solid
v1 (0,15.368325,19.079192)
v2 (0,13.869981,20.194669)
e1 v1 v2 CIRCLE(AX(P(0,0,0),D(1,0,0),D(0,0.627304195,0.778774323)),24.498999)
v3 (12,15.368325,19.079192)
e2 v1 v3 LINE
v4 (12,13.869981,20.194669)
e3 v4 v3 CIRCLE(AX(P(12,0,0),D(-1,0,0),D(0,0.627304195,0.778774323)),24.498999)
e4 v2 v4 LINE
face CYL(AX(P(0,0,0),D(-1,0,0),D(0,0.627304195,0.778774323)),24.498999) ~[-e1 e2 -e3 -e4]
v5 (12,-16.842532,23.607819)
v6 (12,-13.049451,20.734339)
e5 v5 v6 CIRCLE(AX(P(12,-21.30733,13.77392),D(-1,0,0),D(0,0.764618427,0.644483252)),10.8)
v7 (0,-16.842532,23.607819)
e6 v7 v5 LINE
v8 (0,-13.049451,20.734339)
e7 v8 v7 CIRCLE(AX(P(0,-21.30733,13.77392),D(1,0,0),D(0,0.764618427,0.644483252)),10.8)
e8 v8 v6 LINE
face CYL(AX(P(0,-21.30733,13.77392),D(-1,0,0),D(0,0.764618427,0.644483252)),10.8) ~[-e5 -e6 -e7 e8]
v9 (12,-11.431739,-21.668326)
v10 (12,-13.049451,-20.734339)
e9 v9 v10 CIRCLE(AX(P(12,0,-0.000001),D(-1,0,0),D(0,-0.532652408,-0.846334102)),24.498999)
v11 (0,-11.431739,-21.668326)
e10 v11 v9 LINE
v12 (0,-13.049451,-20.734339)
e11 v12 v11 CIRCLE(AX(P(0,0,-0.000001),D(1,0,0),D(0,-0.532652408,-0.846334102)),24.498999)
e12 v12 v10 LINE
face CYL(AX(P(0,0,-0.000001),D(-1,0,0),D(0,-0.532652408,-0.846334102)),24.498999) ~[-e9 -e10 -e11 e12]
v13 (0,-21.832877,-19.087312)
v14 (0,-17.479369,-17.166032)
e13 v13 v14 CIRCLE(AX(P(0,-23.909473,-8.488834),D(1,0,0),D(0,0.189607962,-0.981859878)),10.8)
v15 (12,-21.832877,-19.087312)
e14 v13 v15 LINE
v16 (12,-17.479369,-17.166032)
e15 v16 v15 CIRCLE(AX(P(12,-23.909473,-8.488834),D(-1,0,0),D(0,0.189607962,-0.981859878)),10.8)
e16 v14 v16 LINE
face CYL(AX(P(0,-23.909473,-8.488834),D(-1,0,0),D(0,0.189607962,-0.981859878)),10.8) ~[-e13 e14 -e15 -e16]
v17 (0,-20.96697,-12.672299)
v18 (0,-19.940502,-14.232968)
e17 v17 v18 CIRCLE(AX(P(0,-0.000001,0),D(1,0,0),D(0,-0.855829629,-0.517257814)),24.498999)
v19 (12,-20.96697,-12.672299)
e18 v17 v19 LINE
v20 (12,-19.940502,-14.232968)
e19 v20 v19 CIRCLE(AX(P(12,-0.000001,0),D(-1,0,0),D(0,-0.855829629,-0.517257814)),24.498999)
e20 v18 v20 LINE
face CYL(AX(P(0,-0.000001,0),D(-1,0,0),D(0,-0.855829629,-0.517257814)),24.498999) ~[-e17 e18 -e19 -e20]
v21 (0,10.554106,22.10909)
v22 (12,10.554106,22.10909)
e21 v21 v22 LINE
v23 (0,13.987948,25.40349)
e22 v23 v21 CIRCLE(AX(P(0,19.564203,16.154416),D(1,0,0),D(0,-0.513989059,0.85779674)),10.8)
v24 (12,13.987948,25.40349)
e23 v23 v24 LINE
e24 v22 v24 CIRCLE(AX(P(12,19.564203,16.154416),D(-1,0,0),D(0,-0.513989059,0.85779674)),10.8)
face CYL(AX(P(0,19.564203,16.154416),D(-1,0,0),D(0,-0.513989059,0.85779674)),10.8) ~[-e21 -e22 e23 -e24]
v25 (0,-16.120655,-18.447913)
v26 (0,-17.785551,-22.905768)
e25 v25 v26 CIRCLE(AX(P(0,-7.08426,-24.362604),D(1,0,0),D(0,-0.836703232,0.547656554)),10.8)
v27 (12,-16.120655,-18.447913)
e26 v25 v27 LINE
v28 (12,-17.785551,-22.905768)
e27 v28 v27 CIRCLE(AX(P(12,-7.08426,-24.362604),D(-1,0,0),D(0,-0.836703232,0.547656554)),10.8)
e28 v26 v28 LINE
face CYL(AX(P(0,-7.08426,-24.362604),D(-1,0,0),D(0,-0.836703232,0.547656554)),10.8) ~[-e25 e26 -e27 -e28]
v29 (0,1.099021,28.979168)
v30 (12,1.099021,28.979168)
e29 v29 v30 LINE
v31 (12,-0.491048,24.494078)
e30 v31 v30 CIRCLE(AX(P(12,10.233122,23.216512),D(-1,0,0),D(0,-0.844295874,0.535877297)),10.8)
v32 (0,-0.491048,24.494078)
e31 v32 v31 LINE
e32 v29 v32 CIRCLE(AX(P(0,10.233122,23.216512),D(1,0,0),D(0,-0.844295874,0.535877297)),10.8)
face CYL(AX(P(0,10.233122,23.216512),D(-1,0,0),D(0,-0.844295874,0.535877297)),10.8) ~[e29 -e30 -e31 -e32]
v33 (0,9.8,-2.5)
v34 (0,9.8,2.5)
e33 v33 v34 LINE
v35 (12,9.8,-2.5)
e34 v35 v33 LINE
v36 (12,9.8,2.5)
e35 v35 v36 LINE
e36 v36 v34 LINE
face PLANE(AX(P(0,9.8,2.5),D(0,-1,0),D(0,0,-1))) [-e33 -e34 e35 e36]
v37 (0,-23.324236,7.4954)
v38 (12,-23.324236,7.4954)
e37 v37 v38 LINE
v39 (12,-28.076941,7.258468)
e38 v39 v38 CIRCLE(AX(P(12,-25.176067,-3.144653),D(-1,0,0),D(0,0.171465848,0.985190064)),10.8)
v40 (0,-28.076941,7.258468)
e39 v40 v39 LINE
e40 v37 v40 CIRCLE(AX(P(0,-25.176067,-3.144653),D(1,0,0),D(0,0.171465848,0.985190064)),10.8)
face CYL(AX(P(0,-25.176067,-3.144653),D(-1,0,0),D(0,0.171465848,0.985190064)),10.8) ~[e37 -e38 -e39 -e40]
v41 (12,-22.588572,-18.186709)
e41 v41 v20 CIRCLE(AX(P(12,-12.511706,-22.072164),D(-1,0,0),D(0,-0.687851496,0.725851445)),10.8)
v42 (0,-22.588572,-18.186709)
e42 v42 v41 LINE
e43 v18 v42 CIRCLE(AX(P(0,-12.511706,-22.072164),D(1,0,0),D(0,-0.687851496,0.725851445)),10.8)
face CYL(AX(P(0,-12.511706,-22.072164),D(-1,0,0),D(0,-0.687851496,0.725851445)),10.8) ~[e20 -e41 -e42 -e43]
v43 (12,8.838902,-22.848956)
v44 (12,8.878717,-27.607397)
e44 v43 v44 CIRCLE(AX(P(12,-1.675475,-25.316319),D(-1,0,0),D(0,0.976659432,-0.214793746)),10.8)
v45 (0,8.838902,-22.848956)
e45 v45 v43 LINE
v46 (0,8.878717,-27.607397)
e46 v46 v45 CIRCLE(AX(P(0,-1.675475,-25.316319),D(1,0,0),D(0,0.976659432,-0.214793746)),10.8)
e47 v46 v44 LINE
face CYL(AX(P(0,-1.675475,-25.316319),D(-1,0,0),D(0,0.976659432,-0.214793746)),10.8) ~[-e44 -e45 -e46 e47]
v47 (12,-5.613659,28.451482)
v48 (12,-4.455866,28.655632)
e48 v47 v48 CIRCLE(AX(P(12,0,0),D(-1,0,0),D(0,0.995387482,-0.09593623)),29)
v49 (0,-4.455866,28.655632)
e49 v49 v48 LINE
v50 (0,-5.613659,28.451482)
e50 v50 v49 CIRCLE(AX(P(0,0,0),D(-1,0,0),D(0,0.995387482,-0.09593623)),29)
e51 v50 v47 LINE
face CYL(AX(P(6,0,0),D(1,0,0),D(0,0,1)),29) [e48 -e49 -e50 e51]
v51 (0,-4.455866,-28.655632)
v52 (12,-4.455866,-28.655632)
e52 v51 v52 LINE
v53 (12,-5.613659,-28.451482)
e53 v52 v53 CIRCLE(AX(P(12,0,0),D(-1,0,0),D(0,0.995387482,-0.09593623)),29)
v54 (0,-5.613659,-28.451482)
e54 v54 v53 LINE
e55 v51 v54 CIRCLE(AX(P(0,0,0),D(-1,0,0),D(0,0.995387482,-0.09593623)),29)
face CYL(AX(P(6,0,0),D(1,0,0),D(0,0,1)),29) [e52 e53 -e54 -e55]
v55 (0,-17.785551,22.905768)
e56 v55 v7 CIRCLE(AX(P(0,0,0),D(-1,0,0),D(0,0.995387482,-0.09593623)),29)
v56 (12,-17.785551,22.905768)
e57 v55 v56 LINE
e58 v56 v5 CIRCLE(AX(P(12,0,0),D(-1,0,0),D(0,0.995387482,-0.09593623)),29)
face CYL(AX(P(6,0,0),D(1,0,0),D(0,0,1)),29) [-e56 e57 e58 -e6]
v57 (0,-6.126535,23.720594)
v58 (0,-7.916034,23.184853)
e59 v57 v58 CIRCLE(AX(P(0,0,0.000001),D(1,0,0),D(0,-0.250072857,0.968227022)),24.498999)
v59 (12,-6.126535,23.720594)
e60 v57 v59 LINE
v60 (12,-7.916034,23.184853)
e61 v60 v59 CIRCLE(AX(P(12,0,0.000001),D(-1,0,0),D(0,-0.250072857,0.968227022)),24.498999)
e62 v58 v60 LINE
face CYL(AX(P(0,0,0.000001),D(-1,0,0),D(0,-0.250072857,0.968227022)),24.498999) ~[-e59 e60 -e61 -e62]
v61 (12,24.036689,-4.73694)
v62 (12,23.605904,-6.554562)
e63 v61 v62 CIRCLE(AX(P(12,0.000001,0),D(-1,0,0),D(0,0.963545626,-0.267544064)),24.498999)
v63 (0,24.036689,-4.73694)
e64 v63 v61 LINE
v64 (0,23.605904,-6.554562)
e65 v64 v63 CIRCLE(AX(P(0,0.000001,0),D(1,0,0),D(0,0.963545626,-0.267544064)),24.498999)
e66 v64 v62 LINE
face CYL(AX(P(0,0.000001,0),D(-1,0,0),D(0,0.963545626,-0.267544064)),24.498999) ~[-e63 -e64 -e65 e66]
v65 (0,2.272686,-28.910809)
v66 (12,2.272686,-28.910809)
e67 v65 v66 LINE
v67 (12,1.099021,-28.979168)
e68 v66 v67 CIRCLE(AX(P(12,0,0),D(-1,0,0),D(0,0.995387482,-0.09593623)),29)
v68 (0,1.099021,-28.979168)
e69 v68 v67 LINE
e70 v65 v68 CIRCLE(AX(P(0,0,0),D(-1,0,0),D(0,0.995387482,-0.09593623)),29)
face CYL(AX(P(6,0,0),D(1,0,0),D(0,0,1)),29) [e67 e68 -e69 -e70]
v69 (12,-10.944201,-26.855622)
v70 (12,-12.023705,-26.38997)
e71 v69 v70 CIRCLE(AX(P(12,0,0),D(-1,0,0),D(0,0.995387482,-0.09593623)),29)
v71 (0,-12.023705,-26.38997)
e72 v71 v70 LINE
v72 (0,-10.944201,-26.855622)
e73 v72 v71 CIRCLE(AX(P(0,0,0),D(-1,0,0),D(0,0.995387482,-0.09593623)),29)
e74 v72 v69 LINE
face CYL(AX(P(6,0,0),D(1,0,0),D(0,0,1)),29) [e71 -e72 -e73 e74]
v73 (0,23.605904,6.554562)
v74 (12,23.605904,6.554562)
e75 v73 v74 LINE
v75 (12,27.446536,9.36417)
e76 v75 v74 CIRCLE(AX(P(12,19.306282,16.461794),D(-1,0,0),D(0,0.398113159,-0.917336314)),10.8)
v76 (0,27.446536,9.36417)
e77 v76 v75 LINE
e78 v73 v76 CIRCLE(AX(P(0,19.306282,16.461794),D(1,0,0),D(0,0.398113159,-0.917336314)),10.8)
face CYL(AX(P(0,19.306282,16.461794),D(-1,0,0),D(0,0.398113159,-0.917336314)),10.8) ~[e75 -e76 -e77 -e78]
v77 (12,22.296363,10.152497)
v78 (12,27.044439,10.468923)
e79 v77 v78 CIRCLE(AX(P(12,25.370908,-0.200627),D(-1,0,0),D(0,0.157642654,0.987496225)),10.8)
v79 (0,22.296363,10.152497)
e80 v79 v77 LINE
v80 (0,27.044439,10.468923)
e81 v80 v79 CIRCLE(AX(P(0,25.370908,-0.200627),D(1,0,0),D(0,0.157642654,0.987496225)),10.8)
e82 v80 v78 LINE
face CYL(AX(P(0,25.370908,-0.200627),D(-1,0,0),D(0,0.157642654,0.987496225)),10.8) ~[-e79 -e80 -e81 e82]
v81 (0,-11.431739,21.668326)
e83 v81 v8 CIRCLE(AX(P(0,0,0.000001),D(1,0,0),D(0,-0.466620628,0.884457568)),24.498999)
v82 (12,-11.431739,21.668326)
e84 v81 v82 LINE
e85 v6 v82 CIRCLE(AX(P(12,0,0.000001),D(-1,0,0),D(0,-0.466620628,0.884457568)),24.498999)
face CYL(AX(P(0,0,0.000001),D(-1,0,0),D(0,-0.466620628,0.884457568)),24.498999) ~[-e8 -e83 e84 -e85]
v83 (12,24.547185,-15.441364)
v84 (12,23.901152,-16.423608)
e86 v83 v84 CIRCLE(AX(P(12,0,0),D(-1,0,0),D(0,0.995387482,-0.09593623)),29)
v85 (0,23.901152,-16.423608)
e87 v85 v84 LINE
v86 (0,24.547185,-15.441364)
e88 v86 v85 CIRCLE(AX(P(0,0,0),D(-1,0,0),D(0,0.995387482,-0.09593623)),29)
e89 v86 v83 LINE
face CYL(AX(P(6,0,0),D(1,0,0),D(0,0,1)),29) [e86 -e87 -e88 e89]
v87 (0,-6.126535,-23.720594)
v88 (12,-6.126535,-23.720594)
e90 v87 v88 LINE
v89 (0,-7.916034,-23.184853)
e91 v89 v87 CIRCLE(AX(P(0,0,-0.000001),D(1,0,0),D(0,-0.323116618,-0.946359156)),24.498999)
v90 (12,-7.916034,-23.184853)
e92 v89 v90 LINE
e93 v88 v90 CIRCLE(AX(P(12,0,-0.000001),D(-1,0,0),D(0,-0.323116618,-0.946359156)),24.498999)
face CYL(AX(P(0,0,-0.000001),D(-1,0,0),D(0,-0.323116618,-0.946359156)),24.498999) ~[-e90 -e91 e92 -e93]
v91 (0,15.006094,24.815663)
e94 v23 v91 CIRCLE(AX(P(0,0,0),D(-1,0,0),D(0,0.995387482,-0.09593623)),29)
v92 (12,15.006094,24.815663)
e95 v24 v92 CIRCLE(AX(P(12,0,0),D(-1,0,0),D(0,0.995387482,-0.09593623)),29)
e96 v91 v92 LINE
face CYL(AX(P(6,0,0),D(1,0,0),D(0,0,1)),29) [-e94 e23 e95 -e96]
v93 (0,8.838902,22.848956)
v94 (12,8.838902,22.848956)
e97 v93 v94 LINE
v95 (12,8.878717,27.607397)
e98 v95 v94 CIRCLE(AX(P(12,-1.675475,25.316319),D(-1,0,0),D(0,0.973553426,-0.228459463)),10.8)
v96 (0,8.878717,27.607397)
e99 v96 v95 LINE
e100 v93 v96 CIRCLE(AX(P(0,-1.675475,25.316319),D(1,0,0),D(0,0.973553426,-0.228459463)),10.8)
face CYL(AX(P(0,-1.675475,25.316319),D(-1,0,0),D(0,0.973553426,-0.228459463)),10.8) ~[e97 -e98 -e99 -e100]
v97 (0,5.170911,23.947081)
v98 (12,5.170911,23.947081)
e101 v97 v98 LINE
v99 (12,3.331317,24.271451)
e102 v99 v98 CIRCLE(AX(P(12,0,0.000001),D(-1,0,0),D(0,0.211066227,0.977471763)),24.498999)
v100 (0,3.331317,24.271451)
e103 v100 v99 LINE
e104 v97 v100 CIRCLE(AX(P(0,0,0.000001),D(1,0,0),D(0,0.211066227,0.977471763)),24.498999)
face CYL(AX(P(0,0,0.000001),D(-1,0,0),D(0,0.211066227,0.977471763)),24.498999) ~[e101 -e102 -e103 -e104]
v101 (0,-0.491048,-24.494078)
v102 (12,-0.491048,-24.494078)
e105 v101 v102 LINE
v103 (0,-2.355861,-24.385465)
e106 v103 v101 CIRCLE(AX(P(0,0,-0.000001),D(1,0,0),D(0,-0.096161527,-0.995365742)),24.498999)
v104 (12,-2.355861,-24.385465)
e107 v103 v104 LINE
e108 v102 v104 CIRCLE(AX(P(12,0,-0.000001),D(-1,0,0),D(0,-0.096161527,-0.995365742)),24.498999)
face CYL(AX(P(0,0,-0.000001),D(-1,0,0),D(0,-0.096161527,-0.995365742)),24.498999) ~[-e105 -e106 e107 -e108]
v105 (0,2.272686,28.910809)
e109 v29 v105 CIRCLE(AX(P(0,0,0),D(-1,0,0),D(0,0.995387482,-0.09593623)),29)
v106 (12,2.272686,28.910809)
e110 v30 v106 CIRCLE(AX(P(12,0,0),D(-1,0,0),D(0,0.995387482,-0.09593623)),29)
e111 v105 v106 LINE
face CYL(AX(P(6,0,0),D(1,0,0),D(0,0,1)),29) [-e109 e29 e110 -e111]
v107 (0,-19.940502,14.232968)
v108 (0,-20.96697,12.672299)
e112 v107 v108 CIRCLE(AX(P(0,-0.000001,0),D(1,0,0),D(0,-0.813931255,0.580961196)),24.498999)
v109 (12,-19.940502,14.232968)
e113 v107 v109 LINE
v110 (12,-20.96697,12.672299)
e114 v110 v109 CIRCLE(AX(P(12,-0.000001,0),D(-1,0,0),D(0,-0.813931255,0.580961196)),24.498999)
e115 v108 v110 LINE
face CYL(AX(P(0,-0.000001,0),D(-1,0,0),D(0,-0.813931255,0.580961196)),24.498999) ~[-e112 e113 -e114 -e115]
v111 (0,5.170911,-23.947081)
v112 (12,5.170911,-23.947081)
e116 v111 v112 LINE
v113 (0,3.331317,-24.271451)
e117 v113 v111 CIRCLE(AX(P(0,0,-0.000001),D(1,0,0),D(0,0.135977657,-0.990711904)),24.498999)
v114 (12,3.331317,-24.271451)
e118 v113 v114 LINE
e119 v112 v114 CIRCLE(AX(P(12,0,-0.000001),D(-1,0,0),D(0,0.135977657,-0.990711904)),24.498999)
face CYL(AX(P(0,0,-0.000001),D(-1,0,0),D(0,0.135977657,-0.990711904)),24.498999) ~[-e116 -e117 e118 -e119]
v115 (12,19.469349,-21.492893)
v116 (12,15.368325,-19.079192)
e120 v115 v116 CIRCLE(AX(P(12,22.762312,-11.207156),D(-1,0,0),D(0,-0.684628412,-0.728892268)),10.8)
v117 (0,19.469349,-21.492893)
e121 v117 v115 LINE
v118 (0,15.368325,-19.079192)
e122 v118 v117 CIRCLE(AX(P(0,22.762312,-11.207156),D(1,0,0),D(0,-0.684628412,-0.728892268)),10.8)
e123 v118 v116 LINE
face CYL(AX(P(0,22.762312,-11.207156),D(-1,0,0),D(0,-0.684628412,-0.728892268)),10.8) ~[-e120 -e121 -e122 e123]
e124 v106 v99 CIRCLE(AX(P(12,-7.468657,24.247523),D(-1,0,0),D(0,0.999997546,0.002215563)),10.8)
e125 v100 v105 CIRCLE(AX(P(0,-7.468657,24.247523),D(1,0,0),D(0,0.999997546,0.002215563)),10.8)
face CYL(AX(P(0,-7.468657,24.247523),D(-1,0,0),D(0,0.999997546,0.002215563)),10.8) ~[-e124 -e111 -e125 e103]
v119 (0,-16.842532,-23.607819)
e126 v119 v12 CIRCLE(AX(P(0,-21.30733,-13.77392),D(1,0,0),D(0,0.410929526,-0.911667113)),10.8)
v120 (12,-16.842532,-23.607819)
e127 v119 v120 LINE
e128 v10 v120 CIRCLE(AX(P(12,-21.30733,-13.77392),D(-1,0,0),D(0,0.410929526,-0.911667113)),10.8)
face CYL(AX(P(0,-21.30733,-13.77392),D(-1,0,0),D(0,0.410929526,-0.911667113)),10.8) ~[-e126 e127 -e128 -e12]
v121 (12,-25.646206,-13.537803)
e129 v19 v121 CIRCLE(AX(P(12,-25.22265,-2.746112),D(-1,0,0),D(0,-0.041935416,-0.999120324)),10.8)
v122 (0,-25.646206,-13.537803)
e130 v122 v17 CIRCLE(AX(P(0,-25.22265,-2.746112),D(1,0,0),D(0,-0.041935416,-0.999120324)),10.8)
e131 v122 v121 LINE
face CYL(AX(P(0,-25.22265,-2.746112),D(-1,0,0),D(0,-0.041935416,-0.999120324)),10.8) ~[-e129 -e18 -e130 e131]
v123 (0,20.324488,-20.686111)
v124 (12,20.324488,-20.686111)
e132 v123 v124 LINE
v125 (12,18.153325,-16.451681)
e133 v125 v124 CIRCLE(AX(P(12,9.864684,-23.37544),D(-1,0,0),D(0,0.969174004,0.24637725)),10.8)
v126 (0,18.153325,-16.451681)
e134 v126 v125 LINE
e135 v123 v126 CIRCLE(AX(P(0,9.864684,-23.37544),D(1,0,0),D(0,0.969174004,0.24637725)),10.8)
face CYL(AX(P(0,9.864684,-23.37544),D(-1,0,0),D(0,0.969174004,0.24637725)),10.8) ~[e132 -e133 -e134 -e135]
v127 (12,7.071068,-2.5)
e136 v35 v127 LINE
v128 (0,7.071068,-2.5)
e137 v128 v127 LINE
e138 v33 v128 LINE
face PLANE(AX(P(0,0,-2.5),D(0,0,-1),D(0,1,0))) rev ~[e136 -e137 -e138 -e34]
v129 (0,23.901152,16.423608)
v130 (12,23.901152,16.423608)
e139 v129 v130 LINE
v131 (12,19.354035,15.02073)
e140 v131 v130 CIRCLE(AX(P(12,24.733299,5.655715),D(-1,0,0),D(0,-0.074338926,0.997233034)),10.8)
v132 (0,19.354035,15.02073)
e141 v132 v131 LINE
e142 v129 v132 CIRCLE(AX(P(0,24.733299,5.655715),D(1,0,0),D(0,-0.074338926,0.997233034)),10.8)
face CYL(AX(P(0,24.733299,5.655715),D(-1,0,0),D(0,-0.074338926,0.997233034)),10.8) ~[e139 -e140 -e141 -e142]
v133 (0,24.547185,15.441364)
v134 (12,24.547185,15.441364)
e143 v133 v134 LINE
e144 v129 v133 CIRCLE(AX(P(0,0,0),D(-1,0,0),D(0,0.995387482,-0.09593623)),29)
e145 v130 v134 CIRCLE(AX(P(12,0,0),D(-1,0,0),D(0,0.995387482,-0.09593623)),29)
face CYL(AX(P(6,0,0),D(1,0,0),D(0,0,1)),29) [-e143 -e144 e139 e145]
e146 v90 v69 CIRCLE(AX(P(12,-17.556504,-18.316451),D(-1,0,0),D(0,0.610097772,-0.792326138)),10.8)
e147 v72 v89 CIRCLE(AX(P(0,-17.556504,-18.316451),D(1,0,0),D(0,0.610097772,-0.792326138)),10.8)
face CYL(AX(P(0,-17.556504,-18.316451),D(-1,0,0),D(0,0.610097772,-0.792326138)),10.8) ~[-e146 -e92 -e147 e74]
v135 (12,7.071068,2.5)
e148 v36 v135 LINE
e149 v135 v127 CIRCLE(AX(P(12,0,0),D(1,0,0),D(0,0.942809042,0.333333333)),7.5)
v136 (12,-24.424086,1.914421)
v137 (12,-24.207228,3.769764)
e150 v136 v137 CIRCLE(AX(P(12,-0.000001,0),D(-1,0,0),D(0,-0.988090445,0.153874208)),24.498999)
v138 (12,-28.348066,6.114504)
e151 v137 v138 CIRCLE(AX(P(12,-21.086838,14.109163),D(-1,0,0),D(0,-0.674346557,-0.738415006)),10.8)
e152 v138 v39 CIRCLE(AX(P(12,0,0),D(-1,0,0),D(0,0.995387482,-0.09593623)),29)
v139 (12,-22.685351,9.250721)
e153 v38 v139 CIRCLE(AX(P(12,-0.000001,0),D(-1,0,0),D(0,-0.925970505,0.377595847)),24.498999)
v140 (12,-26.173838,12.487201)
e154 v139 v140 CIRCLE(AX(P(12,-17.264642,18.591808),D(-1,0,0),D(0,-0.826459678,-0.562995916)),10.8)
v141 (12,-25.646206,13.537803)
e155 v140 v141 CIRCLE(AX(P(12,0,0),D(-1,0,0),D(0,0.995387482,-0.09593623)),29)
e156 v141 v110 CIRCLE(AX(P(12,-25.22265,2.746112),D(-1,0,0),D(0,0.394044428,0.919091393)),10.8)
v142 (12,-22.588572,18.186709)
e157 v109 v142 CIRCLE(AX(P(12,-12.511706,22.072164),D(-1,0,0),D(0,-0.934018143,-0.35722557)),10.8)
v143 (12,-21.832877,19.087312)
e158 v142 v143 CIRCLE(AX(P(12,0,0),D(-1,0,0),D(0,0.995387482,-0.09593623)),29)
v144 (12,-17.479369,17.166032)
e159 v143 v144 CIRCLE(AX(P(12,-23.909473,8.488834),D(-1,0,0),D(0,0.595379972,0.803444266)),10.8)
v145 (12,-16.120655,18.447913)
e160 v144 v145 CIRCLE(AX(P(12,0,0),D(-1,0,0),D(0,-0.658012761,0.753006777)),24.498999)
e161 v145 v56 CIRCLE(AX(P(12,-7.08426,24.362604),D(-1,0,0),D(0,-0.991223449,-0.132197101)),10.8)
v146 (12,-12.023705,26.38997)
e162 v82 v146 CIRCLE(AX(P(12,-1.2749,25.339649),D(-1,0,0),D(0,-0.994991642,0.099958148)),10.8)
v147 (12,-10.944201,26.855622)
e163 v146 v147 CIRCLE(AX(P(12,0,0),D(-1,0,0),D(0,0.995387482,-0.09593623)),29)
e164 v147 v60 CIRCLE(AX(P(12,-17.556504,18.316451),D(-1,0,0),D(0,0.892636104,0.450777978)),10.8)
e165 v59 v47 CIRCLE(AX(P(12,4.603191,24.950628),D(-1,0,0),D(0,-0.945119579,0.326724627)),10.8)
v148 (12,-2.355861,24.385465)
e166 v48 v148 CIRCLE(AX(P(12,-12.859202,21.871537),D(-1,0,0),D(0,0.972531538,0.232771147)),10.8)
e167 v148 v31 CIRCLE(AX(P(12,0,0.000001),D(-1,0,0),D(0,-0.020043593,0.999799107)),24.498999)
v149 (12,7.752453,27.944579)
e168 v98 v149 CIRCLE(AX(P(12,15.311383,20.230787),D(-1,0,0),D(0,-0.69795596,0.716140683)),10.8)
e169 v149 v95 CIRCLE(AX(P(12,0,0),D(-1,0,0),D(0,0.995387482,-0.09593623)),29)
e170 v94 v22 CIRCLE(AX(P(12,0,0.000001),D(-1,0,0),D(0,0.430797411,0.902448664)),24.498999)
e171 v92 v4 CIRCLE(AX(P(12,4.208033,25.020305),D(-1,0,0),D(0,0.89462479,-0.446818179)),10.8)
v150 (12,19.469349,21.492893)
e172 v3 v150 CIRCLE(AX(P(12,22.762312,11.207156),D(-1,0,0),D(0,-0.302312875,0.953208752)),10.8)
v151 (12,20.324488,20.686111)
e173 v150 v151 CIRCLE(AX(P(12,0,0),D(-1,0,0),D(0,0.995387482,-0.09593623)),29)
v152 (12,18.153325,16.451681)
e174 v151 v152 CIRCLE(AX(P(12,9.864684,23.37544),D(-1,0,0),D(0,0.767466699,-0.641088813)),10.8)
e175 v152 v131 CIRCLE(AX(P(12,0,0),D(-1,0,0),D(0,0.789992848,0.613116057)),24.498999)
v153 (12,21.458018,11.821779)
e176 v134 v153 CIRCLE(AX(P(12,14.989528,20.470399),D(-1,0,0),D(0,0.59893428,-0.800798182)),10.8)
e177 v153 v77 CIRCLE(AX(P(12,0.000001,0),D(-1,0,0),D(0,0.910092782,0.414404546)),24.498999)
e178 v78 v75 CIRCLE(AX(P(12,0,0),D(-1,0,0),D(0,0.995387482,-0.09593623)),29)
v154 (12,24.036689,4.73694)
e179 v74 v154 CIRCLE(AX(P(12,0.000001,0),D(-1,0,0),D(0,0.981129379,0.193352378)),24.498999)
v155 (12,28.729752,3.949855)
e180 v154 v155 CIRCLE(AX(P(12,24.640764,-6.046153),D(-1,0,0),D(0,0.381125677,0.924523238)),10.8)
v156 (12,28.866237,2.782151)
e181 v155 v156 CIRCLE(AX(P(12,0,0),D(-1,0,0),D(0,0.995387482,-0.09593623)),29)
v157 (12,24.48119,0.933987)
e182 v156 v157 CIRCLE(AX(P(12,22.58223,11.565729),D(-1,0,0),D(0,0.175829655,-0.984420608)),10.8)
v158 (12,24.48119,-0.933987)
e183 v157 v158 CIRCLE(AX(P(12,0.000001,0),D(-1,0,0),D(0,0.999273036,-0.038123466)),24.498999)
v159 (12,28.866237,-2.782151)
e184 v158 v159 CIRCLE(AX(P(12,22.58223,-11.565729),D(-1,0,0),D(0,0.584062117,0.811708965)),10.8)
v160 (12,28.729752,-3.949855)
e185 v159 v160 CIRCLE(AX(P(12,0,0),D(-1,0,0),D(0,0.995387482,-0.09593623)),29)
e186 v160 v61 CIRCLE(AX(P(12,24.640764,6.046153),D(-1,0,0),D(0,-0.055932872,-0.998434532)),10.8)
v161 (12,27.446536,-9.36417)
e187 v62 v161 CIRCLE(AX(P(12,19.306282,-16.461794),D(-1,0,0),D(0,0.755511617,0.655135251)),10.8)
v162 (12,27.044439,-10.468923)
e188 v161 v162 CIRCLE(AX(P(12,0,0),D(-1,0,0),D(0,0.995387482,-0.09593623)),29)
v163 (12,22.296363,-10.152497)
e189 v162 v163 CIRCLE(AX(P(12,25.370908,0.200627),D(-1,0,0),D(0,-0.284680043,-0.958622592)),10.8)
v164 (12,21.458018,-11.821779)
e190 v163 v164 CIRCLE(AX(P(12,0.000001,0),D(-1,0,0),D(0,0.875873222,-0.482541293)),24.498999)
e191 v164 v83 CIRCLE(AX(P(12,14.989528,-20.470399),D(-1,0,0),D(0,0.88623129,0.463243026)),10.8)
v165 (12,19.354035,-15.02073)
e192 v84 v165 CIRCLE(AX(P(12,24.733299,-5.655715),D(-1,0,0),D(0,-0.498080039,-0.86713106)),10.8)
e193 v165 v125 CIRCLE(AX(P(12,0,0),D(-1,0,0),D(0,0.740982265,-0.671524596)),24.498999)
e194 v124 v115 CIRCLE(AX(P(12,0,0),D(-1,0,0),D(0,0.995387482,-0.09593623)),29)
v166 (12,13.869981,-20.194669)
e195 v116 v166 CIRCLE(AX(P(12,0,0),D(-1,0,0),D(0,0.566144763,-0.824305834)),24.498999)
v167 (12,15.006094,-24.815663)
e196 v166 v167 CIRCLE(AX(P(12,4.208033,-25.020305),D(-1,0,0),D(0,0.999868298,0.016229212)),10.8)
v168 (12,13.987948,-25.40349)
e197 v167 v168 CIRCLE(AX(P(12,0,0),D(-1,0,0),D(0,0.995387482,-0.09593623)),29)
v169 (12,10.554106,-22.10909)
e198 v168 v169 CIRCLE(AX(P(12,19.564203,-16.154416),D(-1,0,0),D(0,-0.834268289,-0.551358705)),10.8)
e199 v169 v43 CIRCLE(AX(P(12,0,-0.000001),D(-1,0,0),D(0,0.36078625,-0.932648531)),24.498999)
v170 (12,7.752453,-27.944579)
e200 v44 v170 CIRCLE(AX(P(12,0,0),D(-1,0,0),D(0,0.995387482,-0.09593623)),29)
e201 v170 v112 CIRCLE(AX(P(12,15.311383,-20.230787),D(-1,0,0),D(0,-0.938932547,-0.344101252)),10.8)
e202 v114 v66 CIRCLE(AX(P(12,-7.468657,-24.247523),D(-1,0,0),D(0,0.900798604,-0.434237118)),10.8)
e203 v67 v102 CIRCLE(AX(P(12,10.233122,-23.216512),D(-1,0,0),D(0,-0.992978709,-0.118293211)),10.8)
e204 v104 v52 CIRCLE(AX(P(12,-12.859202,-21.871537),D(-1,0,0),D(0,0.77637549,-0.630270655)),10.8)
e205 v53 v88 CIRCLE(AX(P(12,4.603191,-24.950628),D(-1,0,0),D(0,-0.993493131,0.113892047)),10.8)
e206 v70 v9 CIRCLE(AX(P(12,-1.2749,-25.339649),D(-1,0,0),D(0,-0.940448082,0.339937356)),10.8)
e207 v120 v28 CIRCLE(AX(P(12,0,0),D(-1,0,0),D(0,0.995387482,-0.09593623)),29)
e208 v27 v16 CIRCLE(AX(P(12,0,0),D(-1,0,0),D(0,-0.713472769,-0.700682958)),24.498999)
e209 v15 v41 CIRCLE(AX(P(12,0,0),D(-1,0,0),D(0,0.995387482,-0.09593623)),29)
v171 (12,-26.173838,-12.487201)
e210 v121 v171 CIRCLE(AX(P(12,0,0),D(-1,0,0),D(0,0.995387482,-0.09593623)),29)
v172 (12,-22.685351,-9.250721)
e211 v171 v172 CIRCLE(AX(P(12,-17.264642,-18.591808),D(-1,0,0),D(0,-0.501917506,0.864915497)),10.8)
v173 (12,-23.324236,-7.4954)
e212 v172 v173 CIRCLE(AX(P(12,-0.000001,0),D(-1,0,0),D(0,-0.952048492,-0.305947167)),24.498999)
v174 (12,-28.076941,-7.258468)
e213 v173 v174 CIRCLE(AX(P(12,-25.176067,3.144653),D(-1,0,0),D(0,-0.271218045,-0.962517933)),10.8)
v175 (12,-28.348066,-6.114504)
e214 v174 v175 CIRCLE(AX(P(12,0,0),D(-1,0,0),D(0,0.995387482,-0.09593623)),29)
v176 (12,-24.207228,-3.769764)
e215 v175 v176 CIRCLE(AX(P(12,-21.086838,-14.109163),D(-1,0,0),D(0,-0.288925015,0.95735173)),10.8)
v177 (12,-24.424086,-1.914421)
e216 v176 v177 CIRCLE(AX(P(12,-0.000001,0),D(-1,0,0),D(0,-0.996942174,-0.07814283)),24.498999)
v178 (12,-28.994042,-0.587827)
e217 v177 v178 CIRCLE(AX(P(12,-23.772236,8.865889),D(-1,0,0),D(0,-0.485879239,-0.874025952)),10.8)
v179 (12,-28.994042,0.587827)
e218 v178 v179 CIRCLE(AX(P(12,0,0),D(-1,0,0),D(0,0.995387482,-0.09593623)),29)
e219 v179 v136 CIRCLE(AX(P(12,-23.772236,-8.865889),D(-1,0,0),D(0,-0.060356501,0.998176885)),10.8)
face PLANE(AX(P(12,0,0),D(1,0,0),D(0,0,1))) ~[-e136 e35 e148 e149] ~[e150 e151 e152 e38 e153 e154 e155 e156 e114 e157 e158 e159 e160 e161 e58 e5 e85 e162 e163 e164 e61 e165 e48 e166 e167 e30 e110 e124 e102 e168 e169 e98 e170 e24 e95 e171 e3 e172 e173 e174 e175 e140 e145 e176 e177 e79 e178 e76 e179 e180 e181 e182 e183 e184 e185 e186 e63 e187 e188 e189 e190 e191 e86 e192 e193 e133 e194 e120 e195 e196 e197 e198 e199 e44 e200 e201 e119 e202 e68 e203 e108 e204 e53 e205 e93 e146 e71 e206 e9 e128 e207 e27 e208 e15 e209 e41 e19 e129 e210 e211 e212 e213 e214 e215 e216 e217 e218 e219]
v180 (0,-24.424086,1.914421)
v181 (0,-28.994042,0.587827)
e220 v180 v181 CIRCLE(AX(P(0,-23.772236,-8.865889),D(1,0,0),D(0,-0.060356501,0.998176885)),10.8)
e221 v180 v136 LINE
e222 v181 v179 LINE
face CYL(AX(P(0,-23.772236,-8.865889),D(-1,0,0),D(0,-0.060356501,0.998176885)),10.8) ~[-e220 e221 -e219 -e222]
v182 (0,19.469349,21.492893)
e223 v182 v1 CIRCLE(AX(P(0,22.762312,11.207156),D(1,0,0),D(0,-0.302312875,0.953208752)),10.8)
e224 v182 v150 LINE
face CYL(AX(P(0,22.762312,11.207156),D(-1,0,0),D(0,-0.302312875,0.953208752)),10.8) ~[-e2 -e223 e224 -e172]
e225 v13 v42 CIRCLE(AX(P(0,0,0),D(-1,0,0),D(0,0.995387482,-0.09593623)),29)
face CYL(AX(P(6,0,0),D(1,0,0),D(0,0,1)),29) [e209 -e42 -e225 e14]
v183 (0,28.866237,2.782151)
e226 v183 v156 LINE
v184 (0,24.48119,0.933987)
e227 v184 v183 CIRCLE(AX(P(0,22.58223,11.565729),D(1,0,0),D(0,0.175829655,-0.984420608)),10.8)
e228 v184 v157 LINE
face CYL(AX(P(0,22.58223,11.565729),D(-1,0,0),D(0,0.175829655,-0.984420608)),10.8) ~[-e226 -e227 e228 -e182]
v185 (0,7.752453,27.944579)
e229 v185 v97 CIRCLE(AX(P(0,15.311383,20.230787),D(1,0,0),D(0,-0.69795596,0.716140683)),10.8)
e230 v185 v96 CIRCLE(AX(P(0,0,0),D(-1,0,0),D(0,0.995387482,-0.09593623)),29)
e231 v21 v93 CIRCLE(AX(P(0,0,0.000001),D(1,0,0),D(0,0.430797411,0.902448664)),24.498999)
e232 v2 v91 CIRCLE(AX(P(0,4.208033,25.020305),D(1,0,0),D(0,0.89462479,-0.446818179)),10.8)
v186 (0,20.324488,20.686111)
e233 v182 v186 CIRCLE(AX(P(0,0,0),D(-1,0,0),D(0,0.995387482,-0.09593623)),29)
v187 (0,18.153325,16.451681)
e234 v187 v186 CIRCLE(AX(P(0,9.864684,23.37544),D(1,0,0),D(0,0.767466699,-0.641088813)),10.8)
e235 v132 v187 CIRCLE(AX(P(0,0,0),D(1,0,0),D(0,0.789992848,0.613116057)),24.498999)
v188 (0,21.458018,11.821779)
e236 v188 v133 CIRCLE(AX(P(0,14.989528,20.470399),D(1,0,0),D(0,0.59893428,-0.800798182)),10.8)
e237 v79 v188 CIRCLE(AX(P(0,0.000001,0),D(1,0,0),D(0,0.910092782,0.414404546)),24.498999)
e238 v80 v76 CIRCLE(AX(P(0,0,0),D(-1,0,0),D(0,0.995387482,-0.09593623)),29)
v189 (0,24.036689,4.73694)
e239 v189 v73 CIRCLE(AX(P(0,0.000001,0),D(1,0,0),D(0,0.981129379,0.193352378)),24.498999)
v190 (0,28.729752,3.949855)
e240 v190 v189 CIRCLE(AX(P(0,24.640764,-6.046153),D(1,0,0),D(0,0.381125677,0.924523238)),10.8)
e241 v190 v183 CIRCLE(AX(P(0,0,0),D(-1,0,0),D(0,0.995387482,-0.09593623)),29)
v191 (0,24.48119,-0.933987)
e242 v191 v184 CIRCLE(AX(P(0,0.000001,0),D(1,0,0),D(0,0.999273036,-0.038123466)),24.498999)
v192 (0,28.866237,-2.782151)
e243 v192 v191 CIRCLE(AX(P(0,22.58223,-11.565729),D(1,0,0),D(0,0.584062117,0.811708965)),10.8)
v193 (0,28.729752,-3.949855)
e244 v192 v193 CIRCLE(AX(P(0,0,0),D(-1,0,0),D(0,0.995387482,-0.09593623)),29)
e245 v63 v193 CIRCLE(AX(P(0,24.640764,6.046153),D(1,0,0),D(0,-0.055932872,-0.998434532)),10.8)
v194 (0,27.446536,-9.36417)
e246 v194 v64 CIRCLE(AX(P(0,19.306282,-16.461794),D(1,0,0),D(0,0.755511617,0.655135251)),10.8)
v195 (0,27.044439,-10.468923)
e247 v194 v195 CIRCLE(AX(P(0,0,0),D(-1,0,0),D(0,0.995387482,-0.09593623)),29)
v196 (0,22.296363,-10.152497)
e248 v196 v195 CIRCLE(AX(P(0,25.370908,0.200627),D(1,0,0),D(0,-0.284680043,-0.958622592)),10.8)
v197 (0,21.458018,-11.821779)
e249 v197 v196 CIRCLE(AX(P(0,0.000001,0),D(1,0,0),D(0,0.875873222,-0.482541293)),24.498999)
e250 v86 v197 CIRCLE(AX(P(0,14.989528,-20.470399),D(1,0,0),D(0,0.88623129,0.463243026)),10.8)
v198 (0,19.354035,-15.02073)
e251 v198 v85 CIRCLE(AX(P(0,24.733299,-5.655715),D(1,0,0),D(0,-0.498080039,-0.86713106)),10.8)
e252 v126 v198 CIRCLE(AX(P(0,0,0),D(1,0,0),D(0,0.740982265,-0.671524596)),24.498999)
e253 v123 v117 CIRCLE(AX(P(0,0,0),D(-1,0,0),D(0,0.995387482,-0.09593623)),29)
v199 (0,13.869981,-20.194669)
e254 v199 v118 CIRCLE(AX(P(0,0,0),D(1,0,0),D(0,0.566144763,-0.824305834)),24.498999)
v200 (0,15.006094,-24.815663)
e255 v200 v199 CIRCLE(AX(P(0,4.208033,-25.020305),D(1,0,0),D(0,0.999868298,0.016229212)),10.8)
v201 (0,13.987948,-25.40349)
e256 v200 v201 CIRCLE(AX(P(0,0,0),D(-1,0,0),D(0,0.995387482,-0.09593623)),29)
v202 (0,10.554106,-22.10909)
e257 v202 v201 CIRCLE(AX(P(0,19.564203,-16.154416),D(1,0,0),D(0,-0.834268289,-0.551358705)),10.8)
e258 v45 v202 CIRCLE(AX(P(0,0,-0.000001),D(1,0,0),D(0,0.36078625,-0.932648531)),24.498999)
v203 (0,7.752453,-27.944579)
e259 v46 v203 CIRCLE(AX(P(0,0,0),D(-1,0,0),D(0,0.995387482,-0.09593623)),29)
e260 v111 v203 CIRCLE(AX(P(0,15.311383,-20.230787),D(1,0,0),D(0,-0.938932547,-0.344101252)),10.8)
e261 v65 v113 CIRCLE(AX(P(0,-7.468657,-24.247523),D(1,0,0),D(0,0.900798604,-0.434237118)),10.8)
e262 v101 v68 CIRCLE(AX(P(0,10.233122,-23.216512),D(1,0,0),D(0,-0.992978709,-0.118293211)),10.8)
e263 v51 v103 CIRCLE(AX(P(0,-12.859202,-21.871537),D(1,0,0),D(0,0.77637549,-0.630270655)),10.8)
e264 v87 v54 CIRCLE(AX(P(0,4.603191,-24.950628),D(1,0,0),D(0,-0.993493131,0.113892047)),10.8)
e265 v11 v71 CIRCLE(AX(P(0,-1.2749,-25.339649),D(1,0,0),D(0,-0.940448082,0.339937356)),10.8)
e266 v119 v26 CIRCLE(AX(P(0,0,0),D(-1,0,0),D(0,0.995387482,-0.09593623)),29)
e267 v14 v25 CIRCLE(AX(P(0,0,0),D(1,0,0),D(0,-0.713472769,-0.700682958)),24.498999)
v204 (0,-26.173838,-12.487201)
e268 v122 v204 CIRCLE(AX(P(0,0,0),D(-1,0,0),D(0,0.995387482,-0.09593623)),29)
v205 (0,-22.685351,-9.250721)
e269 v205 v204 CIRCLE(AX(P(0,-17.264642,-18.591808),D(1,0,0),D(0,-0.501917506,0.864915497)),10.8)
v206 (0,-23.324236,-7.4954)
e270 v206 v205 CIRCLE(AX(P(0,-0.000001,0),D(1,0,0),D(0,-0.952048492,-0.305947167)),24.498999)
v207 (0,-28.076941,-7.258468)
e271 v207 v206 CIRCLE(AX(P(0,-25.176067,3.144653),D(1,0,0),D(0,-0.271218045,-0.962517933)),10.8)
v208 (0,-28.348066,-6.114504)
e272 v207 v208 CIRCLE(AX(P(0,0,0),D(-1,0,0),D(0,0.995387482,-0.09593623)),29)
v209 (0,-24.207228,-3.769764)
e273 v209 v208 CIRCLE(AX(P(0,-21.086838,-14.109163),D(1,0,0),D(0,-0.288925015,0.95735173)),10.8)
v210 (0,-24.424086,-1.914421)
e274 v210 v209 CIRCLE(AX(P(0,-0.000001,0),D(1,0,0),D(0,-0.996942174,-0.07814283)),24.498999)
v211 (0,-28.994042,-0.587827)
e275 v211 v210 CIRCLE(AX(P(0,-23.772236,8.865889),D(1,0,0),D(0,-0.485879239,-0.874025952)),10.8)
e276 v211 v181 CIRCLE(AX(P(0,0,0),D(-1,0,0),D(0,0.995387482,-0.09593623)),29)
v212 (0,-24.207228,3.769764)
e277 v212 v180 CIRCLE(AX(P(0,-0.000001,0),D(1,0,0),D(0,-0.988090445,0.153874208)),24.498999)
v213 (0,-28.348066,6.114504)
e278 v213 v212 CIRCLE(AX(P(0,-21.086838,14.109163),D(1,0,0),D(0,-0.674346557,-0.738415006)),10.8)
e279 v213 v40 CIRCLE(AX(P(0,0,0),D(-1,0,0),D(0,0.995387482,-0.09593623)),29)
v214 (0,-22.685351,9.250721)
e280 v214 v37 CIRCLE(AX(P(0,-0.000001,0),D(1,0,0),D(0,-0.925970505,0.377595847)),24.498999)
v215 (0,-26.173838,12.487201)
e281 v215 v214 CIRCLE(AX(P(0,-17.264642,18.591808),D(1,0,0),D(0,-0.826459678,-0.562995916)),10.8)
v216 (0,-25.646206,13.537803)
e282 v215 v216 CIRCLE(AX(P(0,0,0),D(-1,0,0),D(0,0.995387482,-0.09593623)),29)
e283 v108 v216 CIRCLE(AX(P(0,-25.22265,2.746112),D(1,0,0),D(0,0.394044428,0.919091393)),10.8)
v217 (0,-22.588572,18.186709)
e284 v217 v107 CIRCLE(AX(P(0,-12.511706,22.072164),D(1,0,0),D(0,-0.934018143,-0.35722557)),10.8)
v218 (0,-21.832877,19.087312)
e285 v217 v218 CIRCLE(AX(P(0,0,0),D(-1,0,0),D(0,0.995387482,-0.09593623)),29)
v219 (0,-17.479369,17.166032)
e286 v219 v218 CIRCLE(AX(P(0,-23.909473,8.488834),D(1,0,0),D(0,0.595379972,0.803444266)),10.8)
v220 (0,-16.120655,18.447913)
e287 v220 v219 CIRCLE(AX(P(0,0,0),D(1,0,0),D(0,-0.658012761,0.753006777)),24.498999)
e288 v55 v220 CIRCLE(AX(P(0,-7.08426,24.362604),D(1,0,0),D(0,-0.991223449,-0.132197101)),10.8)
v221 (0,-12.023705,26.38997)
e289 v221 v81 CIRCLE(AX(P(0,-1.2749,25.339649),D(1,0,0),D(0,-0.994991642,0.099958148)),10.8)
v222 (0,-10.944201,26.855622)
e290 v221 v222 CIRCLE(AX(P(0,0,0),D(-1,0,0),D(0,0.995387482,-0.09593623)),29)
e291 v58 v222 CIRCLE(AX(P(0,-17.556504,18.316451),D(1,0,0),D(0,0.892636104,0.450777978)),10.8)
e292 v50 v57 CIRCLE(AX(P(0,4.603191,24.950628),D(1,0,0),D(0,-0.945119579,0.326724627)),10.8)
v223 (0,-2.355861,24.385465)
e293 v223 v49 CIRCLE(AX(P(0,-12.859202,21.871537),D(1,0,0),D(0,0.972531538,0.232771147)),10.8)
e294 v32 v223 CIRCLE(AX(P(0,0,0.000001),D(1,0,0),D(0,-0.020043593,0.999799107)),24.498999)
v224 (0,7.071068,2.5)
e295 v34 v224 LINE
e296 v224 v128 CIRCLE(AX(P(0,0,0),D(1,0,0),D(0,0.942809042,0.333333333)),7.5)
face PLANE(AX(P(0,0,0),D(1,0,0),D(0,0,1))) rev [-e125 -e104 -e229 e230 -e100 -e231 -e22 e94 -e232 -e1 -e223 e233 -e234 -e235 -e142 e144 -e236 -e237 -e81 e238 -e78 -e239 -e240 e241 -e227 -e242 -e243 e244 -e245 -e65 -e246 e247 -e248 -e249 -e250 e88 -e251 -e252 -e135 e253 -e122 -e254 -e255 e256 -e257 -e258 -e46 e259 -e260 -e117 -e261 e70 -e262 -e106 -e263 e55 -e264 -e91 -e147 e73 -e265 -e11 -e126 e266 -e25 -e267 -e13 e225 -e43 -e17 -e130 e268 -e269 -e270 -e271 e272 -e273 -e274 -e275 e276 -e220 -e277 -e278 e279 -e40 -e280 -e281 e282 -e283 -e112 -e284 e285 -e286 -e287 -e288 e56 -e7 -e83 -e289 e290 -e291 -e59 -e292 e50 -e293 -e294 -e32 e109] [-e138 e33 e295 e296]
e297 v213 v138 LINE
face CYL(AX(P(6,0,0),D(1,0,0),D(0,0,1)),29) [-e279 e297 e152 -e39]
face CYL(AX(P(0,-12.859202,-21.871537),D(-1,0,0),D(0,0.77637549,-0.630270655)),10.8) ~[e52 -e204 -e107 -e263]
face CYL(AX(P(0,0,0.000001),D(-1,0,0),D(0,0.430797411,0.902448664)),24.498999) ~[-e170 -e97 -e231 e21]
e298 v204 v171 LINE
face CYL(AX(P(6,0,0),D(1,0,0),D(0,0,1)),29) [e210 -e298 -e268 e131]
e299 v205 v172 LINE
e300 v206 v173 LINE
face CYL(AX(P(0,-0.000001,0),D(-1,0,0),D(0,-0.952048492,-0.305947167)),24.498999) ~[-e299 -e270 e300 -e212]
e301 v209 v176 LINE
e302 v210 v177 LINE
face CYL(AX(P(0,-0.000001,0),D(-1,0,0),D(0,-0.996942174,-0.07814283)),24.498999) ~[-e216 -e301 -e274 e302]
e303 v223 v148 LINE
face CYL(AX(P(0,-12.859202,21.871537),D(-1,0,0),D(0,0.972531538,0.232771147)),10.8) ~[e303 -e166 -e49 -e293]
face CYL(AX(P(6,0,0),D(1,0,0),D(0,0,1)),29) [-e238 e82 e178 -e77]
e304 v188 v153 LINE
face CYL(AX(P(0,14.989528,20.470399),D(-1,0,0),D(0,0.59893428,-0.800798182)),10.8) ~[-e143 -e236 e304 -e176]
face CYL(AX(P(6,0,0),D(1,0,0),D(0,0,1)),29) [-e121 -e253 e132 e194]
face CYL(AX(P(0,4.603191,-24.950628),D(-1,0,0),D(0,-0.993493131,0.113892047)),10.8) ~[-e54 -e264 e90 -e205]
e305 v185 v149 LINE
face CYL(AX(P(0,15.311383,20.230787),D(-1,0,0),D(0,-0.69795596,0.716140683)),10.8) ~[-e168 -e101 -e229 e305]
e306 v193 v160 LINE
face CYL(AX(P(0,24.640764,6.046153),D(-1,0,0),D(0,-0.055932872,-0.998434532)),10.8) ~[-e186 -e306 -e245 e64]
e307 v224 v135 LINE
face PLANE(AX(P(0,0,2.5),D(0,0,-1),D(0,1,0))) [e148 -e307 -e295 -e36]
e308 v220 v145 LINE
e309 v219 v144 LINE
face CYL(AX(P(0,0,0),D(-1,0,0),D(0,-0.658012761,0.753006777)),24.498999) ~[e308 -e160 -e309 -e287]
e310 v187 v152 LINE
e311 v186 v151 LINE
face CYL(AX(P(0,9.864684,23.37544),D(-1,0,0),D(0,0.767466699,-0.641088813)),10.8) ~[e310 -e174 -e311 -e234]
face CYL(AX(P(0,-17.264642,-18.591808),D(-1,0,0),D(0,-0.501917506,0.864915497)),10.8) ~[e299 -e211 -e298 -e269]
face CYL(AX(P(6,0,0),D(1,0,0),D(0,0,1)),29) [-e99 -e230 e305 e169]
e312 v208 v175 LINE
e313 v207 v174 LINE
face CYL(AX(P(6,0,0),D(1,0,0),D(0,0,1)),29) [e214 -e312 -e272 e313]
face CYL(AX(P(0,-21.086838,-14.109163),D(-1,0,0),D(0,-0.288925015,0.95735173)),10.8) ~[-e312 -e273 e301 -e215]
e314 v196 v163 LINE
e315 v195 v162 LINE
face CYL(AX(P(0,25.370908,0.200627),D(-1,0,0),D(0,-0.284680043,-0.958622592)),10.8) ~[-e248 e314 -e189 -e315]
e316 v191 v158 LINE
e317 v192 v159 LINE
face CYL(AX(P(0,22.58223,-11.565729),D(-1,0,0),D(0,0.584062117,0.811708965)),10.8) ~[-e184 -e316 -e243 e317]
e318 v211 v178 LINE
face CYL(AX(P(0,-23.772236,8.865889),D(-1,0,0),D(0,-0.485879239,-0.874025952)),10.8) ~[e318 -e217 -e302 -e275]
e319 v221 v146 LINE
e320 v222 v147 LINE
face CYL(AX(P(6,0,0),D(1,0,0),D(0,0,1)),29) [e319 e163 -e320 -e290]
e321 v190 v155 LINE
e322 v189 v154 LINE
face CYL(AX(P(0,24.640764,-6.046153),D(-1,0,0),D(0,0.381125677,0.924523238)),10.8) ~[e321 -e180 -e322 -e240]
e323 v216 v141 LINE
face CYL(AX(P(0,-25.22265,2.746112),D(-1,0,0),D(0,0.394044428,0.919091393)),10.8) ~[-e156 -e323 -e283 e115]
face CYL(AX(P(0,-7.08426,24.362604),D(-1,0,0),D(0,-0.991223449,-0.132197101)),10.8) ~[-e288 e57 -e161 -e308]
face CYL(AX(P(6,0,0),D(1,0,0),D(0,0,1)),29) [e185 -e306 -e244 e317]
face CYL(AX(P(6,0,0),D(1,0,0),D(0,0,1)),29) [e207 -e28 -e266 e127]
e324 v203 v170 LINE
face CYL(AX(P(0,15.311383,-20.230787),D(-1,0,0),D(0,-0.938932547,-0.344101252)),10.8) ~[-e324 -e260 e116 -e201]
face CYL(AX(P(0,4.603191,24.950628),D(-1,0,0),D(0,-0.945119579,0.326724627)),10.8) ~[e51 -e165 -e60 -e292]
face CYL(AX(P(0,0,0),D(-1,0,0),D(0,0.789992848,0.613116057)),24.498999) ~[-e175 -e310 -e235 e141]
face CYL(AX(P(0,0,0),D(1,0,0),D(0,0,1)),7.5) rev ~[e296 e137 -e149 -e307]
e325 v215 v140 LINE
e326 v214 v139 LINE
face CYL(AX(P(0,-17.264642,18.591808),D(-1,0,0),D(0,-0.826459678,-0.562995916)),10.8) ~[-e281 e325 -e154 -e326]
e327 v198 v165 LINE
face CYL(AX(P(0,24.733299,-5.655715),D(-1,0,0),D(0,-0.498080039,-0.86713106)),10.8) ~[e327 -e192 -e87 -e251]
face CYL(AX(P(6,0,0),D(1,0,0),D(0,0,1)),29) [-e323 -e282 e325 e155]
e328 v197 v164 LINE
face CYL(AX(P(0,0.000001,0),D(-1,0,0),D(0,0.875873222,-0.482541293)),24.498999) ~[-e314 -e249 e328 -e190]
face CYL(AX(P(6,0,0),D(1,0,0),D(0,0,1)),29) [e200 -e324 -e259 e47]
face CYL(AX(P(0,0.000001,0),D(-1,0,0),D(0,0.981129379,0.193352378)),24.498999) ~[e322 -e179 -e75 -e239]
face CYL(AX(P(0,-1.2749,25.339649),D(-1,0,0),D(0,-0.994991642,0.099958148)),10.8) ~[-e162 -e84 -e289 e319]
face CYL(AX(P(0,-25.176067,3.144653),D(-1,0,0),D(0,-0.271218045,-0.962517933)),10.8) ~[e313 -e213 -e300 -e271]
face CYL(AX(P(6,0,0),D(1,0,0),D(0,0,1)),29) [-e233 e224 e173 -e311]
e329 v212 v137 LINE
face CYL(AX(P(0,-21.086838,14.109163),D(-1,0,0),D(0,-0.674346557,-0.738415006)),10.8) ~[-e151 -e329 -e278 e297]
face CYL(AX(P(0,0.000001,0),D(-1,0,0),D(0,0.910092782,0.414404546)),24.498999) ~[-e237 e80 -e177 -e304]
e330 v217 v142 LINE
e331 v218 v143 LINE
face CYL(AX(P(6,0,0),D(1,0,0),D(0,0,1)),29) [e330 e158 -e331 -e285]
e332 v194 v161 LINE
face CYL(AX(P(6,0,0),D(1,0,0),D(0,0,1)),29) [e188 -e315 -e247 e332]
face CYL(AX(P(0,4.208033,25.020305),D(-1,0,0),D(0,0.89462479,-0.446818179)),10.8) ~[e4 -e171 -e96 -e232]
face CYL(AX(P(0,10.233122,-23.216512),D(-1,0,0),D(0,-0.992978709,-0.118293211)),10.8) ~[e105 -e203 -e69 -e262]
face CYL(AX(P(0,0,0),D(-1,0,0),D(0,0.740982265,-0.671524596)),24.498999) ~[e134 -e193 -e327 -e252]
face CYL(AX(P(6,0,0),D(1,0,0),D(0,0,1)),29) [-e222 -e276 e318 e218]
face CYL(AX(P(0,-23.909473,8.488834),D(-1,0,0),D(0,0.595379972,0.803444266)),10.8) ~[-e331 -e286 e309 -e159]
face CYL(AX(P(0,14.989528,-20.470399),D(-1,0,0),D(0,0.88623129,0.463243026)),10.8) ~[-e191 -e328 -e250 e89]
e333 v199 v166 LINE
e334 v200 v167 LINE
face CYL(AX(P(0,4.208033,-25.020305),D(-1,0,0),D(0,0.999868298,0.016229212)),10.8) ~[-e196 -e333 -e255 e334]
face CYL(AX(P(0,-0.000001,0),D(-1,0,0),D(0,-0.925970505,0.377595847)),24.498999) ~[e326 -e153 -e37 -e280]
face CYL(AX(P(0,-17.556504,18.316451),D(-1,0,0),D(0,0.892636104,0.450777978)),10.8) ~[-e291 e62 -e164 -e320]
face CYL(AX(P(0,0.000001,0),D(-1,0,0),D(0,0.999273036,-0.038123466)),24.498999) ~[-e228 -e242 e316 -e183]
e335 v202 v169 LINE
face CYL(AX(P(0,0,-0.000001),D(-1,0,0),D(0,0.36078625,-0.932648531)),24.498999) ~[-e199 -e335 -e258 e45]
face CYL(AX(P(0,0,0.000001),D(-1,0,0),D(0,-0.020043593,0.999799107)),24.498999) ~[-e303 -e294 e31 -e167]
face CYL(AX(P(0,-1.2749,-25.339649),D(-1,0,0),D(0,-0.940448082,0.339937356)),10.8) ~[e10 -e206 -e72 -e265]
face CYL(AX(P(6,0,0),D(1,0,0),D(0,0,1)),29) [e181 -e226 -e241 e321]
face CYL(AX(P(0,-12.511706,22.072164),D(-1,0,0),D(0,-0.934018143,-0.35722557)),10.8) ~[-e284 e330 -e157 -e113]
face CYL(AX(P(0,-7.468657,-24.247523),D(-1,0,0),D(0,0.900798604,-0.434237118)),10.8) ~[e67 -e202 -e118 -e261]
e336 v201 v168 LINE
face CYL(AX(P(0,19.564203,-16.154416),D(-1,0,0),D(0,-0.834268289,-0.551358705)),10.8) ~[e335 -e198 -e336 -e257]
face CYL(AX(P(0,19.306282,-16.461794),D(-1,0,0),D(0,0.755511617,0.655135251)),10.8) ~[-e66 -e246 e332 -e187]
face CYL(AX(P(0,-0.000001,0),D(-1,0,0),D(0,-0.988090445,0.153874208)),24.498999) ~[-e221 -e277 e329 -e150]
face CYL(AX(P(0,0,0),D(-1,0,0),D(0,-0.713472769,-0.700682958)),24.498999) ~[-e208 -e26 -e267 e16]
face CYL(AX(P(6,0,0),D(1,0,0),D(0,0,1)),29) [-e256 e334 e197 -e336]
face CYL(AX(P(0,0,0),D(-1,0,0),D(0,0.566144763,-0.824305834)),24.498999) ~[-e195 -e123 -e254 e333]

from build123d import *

# Parameters (mm, degrees)
BASPROSKE_W     = 12
BASPROSKE_H     = 29
TOOTHCUT_DEPTH  = 43.731721238
TEETHCUTS_COUNT = 27
TEETHCUTS_ANGLE = 346.666666667
BORSKE_R        = 7.5
BORE_DEPTH      = 50.0000508
KEYSKE_W        = 5
KEYSKE_H        = 9.8
KEYWAY_DEPTH    = 50.0000508


with BuildPart() as part:
    # BasProSke → Base-Revolve (revolve)
    with BuildSketch(Plane(origin=(0, 0, 0), x_dir=(1, 0, 0), z_dir=(0, 1, 0)), mode=Mode.PRIVATE) as base_revolve_sk:
        with Locations((6, 14.5)):
            Rectangle(BASPROSKE_W, BASPROSKE_H)
    revolve(base_revolve_sk.sketch.rotate(Axis((-10, 0, 0), (1, 0, 0)), 180), axis=Axis((-10, 0, 0), (1, 0, 0)))

    # TooCutSke → ToothCut (cut, through all)
    with BuildSketch(Plane(origin=(0, 0, 0), x_dir=(0, 0, -1), z_dir=(1, 0, 0))):
        with BuildLine():
            ThreePointArc((0.93398677, 24.48119012), (0, 24.499), (-0.93398677, 24.48119012))
            ThreePointArc((-0.93398677, 24.48119012), (-1.619264734, 26.790298527), (-2.799272507, 28.890100702))
            ThreePointArc((-2.799272507, 28.890100702), (0, 29.0254), (2.799272507, 28.890100702))
            ThreePointArc((2.799272507, 28.890100702), (1.619264734, 26.790298527), (0.93398677, 24.48119012))
        make_face()
    toothcut = extrude(amount=TOOTHCUT_DEPTH, mode=Mode.SUBTRACT)

    # TeethCuts: ToothCut ×27 about axis
    teethcuts_axis = Axis((-10, 0, 0), (1, 0, 0))
    for i in range(1, TEETHCUTS_COUNT):
        add(toothcut.rotate(teethcuts_axis, i * TEETHCUTS_ANGLE / (TEETHCUTS_COUNT - 1)), mode=Mode.SUBTRACT)

    # BorSke → Bore (cut, symmetric)
    with BuildSketch(Plane(origin=(0, 0, 0), x_dir=(0, 0, -1), z_dir=(1, 0, 0))):
        with Locations(Location((0, 0, 0), (0, 0, 180))):
            Circle(BORSKE_R)
    extrude(amount=BORE_DEPTH, both=True, mode=Mode.SUBTRACT)

    # KeySke → Keyway (cut, symmetric)
    with BuildSketch(Plane(origin=(0, 0, 0), x_dir=(0, 0, -1), z_dir=(1, 0, 0))):
        with Locations((0, 4.9)):
            Rectangle(KEYSKE_W, KEYSKE_H)
    extrude(amount=KEYWAY_DEPTH, both=True, mode=Mode.SUBTRACT)


solid = part.part
